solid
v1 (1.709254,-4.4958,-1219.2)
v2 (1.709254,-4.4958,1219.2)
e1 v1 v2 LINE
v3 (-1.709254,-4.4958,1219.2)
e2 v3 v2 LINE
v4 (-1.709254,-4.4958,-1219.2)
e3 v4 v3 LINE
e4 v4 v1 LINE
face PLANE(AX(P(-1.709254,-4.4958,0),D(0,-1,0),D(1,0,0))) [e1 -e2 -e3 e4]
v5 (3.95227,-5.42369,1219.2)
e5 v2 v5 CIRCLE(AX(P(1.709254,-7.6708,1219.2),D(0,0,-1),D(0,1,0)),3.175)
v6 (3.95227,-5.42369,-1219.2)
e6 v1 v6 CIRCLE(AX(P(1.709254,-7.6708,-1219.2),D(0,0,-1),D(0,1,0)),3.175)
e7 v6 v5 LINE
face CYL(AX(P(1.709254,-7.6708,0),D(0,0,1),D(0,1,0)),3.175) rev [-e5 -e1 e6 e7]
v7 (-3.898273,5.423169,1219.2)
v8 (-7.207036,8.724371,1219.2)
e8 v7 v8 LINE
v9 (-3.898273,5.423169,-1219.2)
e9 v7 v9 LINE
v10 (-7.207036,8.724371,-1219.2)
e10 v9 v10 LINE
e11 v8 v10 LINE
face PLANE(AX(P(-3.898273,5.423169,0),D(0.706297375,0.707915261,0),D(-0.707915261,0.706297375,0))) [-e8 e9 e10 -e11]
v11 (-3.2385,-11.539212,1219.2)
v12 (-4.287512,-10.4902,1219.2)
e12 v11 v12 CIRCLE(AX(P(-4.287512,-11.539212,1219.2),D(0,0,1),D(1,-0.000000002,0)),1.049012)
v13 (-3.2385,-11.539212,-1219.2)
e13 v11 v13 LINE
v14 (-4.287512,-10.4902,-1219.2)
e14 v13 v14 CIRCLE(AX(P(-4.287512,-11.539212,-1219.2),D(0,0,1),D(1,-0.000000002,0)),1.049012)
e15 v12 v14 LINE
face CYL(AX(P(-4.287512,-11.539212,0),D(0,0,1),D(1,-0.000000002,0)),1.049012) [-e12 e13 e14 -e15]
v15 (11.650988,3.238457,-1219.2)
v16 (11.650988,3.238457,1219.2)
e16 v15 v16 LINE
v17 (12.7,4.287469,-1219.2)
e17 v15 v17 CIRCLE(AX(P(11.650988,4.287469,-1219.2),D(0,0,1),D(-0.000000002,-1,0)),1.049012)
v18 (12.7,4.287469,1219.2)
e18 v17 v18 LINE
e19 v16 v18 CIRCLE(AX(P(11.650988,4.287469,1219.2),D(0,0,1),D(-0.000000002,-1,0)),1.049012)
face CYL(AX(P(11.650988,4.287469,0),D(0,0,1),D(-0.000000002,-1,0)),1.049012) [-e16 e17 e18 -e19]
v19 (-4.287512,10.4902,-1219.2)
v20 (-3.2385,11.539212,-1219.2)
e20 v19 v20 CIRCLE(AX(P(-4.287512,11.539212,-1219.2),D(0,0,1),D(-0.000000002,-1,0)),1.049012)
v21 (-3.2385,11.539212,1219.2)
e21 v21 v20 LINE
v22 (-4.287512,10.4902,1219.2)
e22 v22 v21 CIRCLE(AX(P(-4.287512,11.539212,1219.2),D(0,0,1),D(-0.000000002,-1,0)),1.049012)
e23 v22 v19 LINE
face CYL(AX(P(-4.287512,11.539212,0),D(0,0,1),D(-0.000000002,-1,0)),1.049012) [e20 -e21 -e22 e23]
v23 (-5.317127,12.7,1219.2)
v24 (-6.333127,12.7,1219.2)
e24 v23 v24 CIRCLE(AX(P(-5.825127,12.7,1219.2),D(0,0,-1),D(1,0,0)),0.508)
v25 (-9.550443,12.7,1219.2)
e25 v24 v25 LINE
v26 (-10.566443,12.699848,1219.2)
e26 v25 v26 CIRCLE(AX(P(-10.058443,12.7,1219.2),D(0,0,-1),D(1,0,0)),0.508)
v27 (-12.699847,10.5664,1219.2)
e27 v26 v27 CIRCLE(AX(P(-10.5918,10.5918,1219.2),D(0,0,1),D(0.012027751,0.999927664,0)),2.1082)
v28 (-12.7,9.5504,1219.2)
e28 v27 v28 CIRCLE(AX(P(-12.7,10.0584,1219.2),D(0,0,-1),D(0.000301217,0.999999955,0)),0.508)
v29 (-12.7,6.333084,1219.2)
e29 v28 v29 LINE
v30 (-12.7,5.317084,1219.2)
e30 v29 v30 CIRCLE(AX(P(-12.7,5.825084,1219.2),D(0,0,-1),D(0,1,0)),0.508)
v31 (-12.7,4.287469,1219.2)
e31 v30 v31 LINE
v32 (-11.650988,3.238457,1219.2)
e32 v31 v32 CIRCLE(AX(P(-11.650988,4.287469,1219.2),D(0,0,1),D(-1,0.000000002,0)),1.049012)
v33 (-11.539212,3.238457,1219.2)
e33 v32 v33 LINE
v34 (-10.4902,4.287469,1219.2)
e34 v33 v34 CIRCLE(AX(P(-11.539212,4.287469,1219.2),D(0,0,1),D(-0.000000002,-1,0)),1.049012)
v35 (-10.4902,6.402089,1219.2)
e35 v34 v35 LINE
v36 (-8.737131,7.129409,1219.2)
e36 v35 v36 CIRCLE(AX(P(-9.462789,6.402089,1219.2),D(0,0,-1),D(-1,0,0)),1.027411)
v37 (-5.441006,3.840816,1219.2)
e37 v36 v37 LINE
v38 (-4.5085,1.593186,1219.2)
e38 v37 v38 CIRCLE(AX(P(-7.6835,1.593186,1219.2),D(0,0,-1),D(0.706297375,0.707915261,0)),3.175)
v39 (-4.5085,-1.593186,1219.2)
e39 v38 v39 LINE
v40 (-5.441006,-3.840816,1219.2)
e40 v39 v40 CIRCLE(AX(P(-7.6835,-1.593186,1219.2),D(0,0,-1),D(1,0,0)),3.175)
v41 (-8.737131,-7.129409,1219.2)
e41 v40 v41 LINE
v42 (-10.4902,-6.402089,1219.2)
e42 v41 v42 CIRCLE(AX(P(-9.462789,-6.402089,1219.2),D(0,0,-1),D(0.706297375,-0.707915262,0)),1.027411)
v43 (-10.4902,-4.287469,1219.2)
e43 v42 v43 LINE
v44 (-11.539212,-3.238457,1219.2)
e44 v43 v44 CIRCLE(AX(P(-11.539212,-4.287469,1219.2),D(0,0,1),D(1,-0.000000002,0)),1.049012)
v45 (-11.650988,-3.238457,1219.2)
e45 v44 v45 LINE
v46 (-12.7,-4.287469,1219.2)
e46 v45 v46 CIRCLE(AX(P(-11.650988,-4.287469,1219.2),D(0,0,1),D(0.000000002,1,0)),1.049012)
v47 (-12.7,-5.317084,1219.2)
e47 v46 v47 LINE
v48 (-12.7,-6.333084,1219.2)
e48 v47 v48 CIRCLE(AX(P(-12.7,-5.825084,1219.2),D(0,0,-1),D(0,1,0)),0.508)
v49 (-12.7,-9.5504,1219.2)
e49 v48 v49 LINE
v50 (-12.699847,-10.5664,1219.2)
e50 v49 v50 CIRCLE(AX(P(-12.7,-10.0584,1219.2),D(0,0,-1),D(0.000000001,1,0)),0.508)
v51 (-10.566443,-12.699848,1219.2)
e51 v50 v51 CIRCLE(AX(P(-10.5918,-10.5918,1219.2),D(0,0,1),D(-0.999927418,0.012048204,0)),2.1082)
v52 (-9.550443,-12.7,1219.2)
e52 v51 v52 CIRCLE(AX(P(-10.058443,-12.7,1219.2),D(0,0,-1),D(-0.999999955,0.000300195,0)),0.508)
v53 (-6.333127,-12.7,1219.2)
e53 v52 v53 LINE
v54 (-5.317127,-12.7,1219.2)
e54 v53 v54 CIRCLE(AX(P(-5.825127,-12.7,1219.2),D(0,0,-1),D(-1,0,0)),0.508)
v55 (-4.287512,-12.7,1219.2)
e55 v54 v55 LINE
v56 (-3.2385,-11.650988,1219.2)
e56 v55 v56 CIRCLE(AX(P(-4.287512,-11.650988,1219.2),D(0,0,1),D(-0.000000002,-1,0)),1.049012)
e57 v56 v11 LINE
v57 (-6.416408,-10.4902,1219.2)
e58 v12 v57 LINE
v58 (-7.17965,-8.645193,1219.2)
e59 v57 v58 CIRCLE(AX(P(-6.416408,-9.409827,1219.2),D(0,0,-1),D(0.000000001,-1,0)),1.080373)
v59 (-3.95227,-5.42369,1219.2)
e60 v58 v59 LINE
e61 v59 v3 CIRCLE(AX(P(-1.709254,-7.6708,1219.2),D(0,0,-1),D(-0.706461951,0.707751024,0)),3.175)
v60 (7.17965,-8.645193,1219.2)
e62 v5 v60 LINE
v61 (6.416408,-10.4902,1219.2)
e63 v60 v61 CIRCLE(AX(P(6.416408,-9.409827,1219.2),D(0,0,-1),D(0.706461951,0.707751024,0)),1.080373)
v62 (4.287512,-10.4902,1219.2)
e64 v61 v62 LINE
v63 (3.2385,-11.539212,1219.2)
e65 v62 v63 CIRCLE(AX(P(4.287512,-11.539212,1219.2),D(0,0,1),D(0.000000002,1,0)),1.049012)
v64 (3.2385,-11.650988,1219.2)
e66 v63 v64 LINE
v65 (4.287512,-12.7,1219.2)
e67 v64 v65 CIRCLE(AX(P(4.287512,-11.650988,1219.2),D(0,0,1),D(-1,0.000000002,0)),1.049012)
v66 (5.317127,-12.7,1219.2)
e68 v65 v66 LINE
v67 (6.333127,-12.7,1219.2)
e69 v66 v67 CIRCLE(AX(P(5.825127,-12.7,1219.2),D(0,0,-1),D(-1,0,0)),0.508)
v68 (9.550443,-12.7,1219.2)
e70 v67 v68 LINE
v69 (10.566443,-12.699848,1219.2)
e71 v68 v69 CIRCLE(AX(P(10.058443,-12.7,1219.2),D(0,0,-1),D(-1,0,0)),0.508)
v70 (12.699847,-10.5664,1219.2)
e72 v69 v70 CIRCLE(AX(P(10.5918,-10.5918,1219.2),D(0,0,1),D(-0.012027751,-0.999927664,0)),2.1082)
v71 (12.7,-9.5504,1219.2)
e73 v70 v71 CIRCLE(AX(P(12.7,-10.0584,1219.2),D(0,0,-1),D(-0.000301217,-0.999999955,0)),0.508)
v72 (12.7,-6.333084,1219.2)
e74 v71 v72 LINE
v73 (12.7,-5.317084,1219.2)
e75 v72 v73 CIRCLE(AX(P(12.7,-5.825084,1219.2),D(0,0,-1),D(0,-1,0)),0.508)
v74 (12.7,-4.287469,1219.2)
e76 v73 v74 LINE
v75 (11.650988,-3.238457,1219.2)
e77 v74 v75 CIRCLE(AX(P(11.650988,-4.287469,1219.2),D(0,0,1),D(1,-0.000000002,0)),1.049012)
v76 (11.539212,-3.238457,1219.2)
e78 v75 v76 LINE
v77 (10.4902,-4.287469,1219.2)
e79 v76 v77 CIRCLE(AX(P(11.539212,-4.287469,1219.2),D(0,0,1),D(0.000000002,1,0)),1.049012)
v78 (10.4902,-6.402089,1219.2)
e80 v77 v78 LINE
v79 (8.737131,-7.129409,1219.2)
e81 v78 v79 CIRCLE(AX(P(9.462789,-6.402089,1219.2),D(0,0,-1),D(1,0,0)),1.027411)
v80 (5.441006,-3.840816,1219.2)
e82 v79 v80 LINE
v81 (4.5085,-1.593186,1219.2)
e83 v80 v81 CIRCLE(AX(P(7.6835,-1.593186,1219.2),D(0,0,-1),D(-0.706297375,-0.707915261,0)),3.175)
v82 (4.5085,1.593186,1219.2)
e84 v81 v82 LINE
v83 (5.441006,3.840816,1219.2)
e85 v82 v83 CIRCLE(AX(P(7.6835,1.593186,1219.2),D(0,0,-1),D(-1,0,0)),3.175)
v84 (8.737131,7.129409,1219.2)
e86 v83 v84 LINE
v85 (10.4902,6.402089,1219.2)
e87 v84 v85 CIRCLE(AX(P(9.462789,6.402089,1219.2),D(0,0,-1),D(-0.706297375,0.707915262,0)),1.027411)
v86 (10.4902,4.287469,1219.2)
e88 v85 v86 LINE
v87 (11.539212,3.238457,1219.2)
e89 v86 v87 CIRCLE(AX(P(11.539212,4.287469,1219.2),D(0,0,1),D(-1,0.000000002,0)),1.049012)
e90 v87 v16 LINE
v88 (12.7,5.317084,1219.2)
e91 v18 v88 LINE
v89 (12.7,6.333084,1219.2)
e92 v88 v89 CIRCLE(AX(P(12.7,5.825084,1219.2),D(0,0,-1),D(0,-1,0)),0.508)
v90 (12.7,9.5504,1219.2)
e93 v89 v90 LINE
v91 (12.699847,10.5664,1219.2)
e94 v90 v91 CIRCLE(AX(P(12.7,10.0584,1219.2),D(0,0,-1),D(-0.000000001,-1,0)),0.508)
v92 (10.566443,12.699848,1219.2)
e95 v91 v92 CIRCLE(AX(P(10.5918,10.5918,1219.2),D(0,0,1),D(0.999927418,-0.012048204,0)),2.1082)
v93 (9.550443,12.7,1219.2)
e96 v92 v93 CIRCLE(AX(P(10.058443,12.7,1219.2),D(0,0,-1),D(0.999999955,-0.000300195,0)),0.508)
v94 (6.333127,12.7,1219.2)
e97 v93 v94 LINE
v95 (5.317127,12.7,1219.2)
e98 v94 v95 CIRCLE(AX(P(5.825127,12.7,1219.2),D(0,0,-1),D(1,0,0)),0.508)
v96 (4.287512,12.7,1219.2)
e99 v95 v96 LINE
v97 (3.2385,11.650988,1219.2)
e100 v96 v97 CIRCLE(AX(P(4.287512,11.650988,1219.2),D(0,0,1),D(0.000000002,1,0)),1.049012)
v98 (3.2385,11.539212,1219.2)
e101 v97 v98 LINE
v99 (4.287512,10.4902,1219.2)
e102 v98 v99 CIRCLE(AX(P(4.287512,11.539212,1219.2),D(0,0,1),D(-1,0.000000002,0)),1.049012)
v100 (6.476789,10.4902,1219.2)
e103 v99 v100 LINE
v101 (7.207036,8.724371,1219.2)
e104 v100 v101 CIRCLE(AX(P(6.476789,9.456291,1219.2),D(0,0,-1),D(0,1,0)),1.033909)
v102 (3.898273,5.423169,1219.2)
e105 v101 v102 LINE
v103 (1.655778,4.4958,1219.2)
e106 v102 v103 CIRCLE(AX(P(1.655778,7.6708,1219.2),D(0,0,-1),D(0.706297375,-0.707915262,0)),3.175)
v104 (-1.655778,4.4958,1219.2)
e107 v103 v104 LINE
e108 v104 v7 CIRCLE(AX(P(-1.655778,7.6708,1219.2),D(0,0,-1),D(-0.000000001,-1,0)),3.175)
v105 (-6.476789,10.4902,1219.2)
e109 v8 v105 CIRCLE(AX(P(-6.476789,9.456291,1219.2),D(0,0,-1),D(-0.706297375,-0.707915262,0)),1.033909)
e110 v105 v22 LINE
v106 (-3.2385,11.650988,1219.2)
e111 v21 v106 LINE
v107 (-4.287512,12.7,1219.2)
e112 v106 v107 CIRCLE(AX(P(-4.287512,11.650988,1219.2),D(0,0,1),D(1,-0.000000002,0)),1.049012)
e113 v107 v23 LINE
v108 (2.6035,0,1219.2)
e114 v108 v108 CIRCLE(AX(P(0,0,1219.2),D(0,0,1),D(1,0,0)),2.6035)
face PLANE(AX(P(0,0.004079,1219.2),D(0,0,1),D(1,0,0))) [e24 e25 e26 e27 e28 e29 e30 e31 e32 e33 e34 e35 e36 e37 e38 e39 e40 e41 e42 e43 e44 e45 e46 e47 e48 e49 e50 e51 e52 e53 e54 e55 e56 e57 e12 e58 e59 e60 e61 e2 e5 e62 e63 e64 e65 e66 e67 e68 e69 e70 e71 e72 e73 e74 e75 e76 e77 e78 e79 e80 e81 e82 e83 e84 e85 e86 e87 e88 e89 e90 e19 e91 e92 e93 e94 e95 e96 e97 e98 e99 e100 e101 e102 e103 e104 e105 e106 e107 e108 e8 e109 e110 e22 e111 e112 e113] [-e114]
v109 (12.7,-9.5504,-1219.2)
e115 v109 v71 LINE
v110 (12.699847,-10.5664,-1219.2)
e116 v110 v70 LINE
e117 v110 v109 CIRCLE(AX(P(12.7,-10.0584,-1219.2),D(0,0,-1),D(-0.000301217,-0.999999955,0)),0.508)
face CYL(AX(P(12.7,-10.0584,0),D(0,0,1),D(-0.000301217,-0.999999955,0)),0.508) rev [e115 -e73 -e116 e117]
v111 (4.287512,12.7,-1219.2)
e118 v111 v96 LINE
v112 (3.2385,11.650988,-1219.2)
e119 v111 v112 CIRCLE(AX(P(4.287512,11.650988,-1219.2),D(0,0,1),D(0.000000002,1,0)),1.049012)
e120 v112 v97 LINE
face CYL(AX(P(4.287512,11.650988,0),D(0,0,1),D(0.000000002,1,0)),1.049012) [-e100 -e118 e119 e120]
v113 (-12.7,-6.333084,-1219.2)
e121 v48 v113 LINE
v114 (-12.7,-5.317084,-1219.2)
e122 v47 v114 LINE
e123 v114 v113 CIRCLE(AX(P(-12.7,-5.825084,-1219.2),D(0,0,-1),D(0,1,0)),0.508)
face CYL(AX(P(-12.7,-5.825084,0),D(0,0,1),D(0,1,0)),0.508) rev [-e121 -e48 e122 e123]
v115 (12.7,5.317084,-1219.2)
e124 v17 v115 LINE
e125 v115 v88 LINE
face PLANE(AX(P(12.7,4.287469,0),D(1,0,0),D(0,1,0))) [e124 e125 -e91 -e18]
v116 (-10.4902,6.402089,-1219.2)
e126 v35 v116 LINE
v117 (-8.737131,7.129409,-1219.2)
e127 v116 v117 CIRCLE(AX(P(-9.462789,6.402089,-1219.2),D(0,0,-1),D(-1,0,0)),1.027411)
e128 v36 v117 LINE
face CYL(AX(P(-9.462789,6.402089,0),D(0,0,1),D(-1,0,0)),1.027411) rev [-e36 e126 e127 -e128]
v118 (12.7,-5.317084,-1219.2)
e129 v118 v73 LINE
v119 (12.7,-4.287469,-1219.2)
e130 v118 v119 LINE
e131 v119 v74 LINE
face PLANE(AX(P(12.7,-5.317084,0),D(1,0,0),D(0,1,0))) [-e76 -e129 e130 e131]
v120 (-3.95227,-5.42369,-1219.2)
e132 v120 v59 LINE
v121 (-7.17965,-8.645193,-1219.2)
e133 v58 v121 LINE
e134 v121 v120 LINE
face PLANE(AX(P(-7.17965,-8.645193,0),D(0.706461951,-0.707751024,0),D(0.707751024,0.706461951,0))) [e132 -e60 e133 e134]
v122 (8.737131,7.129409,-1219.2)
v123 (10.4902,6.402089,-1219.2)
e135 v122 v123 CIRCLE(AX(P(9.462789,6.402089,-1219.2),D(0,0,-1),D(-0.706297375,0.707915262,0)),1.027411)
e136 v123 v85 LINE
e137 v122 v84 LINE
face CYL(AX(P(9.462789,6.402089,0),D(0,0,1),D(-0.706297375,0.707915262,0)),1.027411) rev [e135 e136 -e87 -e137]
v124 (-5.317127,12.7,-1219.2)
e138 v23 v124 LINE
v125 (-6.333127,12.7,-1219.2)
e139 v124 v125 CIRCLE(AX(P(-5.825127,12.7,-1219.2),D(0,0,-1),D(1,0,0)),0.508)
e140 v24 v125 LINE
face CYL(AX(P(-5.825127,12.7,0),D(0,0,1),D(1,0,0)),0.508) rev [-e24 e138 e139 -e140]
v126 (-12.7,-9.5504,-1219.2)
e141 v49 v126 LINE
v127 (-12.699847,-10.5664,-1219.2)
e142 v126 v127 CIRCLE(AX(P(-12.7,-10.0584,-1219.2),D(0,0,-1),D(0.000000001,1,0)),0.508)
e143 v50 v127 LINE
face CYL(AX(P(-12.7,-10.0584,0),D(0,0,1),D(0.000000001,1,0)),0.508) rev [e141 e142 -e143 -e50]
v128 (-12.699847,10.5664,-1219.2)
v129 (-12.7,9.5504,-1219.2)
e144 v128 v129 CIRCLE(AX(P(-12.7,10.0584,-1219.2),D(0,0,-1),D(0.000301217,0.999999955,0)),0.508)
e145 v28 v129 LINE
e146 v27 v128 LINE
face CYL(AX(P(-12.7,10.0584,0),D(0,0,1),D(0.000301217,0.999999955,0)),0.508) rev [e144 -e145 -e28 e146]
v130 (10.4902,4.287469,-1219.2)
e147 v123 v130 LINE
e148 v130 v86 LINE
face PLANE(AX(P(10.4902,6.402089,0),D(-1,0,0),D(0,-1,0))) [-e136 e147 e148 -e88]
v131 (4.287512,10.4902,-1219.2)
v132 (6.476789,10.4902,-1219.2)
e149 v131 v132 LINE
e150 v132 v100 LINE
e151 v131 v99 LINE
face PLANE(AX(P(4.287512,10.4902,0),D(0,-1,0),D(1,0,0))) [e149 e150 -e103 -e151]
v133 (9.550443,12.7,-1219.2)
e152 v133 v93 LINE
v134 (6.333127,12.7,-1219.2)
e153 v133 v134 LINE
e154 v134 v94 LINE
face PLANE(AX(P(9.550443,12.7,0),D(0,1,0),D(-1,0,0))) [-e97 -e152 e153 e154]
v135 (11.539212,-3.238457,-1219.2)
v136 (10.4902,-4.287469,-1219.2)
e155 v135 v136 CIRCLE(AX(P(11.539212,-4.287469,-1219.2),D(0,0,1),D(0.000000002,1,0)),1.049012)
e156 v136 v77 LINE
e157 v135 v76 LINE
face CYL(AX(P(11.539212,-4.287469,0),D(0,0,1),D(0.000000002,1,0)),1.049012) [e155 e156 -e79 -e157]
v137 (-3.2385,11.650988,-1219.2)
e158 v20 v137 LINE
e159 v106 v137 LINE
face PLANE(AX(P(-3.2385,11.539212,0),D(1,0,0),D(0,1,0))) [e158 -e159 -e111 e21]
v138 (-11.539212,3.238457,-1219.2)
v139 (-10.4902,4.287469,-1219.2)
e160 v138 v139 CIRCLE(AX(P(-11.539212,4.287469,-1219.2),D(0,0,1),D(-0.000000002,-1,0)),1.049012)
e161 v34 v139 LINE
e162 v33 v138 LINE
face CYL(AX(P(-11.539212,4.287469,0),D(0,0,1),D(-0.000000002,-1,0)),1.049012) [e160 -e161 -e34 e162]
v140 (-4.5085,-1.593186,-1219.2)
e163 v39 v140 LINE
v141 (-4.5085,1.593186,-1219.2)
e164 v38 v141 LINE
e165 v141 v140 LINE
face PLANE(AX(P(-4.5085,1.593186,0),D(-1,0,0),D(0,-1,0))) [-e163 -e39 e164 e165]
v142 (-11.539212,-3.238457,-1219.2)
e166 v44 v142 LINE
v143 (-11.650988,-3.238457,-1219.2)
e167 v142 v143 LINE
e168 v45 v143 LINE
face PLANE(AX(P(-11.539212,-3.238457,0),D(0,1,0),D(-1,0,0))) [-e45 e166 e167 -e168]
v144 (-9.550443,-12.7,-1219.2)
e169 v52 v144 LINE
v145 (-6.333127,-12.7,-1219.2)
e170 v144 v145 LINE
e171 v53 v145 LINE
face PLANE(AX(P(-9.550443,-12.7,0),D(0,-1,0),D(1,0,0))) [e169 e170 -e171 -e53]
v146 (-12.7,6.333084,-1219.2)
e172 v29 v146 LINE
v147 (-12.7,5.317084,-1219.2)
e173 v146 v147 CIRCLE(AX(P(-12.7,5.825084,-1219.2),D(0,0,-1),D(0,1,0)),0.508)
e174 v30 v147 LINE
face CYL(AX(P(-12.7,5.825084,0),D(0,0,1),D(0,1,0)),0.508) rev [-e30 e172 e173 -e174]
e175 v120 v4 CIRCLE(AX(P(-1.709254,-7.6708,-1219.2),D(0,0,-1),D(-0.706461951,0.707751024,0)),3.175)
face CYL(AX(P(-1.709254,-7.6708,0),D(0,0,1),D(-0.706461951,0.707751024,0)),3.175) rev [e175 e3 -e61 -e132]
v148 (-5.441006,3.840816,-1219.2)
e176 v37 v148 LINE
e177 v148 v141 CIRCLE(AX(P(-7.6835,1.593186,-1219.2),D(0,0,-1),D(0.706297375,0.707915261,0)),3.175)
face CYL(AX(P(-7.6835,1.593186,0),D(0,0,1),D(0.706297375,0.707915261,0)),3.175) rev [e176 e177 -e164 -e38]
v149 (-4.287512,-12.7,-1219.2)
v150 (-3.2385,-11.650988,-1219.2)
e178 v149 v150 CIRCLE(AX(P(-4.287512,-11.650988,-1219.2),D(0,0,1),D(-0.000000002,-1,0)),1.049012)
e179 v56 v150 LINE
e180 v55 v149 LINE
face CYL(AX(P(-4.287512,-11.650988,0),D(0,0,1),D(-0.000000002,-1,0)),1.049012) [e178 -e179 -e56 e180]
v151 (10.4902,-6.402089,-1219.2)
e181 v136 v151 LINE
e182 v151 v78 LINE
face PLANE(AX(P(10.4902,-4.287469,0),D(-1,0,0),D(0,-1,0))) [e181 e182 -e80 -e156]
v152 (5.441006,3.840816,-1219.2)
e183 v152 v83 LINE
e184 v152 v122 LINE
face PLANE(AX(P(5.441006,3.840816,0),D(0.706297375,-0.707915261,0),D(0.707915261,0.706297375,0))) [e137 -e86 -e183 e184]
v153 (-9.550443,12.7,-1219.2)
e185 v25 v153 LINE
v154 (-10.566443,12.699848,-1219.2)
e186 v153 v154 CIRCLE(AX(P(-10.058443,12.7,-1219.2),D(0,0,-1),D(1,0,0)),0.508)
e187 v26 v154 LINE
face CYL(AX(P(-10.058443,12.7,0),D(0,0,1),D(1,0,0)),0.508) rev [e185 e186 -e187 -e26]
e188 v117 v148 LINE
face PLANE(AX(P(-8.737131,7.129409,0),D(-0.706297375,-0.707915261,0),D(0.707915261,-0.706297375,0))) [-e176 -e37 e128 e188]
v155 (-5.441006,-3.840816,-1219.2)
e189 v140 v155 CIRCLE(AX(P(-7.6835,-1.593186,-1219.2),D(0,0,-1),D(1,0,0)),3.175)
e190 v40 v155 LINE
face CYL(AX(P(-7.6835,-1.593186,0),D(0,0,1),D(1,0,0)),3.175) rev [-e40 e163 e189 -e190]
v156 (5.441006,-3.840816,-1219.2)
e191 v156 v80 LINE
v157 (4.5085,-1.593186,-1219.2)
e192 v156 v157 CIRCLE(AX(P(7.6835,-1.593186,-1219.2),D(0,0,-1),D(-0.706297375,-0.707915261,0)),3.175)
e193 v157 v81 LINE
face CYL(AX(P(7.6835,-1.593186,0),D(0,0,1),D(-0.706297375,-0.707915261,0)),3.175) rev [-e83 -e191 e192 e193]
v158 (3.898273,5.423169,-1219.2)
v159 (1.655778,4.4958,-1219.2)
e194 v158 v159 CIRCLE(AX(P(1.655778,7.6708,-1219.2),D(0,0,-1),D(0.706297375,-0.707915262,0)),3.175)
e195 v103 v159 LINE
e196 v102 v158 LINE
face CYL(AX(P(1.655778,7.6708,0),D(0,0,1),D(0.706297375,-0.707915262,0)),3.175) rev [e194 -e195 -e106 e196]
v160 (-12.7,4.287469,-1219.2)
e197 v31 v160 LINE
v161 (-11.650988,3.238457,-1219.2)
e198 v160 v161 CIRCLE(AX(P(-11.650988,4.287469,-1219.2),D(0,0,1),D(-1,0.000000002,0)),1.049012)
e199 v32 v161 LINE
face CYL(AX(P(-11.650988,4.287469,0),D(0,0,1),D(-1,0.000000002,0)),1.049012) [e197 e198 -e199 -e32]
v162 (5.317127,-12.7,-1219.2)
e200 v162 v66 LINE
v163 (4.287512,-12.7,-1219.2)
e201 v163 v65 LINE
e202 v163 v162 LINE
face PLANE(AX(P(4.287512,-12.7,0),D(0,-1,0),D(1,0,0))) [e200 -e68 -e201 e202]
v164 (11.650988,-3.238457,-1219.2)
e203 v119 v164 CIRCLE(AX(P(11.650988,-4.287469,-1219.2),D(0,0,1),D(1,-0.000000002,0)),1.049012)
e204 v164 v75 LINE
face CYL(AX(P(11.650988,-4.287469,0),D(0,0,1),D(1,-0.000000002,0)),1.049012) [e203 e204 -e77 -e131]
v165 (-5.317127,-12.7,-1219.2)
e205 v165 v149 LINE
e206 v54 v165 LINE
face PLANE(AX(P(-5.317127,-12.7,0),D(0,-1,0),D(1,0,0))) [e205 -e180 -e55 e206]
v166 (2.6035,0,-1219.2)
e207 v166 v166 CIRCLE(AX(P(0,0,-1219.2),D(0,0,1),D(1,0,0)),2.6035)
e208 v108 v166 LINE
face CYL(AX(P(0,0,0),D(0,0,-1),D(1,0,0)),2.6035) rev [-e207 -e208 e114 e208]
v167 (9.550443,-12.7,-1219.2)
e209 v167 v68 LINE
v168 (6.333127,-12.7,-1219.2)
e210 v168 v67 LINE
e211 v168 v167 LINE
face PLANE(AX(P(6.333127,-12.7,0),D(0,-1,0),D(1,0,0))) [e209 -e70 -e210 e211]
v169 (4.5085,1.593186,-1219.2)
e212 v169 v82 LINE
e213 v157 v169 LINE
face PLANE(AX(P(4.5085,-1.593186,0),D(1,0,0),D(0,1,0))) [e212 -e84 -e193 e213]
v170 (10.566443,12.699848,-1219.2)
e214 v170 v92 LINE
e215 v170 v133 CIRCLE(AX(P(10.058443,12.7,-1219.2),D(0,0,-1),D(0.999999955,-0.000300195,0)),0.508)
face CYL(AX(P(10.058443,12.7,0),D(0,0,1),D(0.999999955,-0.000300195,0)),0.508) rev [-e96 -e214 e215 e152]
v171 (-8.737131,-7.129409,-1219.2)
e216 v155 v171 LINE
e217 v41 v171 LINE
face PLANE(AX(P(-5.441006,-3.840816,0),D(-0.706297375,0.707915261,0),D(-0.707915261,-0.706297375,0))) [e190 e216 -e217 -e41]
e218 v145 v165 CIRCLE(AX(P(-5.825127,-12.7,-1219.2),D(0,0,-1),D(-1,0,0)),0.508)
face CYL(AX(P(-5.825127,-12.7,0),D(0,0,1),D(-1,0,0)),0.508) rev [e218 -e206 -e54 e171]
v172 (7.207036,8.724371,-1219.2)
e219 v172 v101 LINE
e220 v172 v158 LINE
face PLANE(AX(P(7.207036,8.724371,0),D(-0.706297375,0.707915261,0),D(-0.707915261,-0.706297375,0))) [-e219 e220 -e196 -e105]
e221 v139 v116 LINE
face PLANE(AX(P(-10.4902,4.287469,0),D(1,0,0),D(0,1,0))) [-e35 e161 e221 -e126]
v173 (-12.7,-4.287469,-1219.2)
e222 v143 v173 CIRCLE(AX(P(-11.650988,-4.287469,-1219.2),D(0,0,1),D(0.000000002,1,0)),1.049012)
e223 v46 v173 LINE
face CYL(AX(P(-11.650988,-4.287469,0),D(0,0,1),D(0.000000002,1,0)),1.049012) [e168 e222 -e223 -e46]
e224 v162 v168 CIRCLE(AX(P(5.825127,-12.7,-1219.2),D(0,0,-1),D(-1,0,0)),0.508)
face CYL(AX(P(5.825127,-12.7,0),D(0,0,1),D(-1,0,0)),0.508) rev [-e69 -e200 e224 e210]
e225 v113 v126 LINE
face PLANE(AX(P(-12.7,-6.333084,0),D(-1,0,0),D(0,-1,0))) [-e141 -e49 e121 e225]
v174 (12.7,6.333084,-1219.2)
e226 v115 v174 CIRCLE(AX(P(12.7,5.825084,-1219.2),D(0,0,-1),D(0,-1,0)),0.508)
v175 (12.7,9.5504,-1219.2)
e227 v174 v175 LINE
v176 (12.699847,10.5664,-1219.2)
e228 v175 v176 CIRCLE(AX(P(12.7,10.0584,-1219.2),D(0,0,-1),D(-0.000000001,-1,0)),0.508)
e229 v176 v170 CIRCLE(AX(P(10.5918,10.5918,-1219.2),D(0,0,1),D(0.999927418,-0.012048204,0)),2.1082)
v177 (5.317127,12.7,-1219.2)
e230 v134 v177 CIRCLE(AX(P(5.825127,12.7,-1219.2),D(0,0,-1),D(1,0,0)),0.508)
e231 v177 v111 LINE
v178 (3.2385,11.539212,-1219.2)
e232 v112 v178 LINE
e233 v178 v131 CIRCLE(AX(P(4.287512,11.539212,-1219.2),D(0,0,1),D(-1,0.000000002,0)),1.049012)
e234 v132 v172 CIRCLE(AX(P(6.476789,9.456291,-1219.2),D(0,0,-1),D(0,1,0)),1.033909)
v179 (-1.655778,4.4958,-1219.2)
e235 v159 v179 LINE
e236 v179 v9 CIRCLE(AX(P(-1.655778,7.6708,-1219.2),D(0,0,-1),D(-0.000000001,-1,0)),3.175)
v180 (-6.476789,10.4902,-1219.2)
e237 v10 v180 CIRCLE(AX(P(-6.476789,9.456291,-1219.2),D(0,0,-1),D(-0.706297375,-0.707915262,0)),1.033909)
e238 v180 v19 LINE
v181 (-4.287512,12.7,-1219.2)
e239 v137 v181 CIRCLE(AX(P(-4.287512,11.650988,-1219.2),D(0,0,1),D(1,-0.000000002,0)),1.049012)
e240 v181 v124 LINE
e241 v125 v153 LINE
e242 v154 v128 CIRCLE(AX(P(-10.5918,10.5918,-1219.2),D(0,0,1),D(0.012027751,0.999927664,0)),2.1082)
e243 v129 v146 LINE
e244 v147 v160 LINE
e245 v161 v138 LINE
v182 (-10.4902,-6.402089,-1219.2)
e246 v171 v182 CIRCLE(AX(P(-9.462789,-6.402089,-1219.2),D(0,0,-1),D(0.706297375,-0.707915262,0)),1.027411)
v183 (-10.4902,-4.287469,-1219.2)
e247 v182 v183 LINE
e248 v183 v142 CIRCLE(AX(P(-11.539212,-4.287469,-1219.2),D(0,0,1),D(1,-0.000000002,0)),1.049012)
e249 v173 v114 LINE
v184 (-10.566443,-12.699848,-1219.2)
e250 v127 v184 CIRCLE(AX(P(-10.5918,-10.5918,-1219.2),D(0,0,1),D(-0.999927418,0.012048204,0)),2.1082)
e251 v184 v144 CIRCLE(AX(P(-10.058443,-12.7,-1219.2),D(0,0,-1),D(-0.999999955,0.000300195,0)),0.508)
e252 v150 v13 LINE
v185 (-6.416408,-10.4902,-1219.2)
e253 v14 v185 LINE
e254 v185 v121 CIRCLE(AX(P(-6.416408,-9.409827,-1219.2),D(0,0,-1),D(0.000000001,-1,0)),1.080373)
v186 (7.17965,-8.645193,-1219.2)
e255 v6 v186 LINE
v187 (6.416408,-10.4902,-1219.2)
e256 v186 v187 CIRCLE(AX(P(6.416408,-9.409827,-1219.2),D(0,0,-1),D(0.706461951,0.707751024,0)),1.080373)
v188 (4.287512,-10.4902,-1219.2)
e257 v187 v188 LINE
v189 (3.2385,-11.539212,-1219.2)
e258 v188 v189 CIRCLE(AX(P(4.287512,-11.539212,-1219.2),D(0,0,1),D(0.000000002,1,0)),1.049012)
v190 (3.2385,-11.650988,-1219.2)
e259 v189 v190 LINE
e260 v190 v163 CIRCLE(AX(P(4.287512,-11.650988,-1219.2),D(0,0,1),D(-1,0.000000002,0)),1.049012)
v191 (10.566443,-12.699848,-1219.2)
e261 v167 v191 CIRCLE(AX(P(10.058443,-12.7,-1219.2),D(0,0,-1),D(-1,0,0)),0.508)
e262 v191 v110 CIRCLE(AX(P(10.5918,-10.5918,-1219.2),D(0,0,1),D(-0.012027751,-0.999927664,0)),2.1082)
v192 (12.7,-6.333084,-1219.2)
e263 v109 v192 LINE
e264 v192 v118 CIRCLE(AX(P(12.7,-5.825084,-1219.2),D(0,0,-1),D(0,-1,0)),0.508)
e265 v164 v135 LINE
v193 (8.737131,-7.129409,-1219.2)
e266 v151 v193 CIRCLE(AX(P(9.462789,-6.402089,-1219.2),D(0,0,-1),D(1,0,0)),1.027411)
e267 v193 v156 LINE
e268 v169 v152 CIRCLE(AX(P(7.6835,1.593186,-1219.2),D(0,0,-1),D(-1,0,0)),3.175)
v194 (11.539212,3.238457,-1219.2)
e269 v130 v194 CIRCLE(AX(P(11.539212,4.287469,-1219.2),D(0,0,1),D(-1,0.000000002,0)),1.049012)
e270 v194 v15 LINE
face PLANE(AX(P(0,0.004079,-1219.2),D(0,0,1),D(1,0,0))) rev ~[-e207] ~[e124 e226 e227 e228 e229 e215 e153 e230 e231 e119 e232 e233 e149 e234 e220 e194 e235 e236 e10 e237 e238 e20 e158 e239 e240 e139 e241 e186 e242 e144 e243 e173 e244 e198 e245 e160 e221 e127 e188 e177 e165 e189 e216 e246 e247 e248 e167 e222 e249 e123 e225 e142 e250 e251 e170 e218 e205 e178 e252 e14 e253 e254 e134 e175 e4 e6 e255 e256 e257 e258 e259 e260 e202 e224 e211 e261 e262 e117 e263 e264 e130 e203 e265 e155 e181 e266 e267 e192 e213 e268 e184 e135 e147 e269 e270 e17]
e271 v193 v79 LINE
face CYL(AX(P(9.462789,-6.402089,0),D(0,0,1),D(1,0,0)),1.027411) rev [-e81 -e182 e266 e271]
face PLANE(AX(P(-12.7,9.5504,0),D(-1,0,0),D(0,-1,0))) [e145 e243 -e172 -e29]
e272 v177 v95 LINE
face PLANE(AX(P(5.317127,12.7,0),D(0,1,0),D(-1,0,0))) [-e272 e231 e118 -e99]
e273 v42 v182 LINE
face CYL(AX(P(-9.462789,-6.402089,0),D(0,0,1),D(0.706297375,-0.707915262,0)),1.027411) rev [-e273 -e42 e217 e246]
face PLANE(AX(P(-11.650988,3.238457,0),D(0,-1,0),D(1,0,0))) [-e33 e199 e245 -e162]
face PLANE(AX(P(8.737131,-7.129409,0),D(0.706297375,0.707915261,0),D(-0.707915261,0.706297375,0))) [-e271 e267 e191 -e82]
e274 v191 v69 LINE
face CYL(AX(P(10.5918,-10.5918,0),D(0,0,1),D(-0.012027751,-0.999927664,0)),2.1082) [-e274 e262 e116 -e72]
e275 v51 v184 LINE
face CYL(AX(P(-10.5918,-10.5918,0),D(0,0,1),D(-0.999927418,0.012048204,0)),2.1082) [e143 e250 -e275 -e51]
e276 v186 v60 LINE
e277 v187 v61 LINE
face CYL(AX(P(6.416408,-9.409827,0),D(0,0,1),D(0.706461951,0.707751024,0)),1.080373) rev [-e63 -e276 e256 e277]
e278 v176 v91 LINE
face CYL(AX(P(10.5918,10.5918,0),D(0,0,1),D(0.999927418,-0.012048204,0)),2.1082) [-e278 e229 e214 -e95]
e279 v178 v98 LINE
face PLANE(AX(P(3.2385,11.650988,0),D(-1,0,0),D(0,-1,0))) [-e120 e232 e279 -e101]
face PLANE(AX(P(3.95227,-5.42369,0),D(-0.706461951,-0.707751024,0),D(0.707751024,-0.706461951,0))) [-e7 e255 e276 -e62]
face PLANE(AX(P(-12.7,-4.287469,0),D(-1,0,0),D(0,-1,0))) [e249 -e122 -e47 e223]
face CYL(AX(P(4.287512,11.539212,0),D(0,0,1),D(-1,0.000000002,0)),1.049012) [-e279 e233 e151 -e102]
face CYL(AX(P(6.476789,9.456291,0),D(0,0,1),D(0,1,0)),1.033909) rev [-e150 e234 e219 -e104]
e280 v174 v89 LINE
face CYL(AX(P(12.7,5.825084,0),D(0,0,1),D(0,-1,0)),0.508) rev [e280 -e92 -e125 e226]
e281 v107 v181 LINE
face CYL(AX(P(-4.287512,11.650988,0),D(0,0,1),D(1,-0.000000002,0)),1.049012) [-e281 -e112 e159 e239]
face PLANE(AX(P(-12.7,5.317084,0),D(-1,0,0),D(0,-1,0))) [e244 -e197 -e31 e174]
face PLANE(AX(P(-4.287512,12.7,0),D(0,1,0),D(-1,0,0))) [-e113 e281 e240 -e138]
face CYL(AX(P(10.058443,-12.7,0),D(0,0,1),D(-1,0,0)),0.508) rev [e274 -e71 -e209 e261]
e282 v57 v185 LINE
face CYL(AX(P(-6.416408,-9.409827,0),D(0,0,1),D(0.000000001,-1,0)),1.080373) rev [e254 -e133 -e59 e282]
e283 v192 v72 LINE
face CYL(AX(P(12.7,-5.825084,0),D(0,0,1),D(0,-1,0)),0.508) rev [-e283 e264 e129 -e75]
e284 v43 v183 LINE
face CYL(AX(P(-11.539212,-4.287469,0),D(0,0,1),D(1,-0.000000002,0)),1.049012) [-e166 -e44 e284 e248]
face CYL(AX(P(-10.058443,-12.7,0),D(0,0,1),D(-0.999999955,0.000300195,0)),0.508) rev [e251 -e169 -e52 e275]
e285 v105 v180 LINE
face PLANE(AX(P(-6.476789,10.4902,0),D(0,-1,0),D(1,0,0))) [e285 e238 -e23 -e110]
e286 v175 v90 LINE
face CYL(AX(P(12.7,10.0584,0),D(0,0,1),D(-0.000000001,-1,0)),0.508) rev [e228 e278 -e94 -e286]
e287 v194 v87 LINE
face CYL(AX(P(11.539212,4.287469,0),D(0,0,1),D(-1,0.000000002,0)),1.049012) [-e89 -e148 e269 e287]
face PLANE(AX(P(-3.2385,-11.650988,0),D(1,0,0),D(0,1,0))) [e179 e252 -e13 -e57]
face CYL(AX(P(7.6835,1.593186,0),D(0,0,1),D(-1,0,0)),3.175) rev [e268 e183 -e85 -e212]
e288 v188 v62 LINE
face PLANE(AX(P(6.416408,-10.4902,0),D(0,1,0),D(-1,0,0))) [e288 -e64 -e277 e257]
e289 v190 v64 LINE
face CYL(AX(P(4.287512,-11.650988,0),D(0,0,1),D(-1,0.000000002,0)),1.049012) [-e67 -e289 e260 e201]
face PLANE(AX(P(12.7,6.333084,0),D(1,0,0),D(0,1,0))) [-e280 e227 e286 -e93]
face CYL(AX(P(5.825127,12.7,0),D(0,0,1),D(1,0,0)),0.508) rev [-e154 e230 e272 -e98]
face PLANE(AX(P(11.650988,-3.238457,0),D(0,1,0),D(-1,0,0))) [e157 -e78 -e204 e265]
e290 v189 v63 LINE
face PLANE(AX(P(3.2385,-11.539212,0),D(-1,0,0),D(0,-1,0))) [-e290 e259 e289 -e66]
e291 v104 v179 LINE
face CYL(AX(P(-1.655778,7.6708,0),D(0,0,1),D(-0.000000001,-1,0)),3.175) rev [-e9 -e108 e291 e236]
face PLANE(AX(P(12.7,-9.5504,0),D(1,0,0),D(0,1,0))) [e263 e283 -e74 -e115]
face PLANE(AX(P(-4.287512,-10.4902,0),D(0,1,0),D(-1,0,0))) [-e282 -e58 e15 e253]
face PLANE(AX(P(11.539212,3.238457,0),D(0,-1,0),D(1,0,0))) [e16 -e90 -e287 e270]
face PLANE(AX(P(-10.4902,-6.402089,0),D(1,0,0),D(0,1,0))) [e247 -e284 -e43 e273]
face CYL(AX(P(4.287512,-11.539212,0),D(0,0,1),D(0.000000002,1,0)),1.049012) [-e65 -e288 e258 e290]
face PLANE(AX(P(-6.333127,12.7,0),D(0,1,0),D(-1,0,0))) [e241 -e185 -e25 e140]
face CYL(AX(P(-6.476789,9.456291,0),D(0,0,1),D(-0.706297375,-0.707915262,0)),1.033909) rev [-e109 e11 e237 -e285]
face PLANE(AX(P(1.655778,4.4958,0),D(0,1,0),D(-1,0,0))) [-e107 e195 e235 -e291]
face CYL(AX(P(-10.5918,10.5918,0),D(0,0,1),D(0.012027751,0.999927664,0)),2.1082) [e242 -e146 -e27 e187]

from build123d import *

# Parameters (mm, degrees)
SKETCH1_R           = 2.6035
BOSS_EXTRUDE1_DEPTH = 1219.2


with BuildPart() as part:
    # Sketch1 → Boss-Extrude1 (new body, symmetric)
    with BuildSketch(Plane.XY):
        with BuildLine():
            Line((-7.179650497, -8.645192506), (-3.952270251, -5.423690499))
            ThreePointArc((-3.952270251, -5.423690499), (-2.922936451, -4.736929036), (-1.709253557, -4.4958))
            Line((-1.709253557, -4.4958), (1.709253557, -4.4958))
            ThreePointArc((1.709253557, -4.4958), (2.922936451, -4.736929036), (3.952270251, -5.423690499))
            Line((3.952270251, -5.423690499), (7.179650497, -8.645192506))
            ThreePointArc((7.179650497, -8.645192506), (7.41473083, -9.822813117), (6.416408329, -10.4902))
            Line((6.416408329, -10.4902), (4.287512407, -10.4902))
            ThreePointArc((4.287512407, -10.4902), (3.54574862, -10.79744862), (3.2385, -11.539212407))
            Line((3.2385, -11.539212407), (3.2385, -11.650987593))
            ThreePointArc((3.2385, -11.650987593), (3.54574862, -12.39275138), (4.287512407, -12.7))
            Line((4.287512407, -12.7), (5.317126718, -12.7))
            ThreePointArc((5.317126718, -12.7), (5.825126718, -12.192), (6.333126718, -12.7))
            Line((6.333126718, -12.7), (9.550443118, -12.7))
            ThreePointArc((9.550443118, -12.7), (10.058366869, -12.192000006), (10.566443095, -12.699847501))
            ThreePointArc((10.566443095, -12.699847501), (12.082537762, -12.08250727), (12.699846982, -10.566399977))
            ThreePointArc((12.699846982, -10.566399977), (12.192000006, -10.058323491), (12.7, -9.5504))
            Line((12.7, -9.5504), (12.7, -6.3330836))
            ThreePointArc((12.7, -6.3330836), (12.192, -5.8250836), (12.7, -5.3170836))
            Line((12.7, -5.3170836), (12.7, -4.287469289))
            ThreePointArc((12.7, -4.287469289), (12.39275138, -3.545705502), (11.650987593, -3.238456882))
            Line((11.650987593, -3.238456882), (11.539212407, -3.238456882))
            ThreePointArc((11.539212407, -3.238456882), (10.79744862, -3.545705502), (10.4902, -4.287469289))
            Line((10.4902, -4.287469289), (10.4902, -6.402089023))
            ThreePointArc((10.4902, -6.402089023), (9.856505071, -7.351067942), (8.737131347, -7.129408934))
            Line((8.737131347, -7.129408934), (5.441005833, -3.840816462))
            ThreePointArc((5.441005833, -3.840816462), (4.750877967, -2.809883091), (4.5085, -1.593185507))
            Line((4.5085, -1.593185507), (4.5085, 1.593185507))
            ThreePointArc((4.5085, 1.593185507), (4.750877967, 2.809883091), (5.441005833, 3.840816462))
            Line((5.441005833, 3.840816462), (8.737131347, 7.129408934))
            ThreePointArc((8.737131347, 7.129408934), (9.856505071, 7.351067942), (10.4902, 6.402089023))
            Line((10.4902, 6.402089023), (10.4902, 4.287469289))
            ThreePointArc((10.4902, 4.287469289), (10.79744862, 3.545705502), (11.539212407, 3.238456882))
            Line((11.539212407, 3.238456882), (11.650987593, 3.238456882))
            ThreePointArc((11.650987593, 3.238456882), (12.39275138, 3.545705502), (12.7, 4.287469289))
            Line((12.7, 4.287469289), (12.7, 5.3170836))
            ThreePointArc((12.7, 5.3170836), (12.192, 5.8250836), (12.7, 6.3330836))
            Line((12.7, 6.3330836), (12.7, 9.5504))
            ThreePointArc((12.7, 9.5504), (12.192000006, 10.058323491), (12.699846982, 10.566399977))
            ThreePointArc((12.699846982, 10.566399977), (12.082537762, 12.08250727), (10.566443095, 12.699847501))
            ThreePointArc((10.566443095, 12.699847501), (10.058366869, 12.192000006), (9.550443118, 12.7))
            Line((9.550443118, 12.7), (6.333126718, 12.7))
            ThreePointArc((6.333126718, 12.7), (5.825126718, 12.192), (5.317126718, 12.7))
            Line((5.317126718, 12.7), (4.287512407, 12.7))
            ThreePointArc((4.287512407, 12.7), (3.54574862, 12.39275138), (3.2385, 11.650987593))
            Line((3.2385, 11.650987593), (3.2385, 11.539212407))
            ThreePointArc((3.2385, 11.539212407), (3.54574862, 10.79744862), (4.287512407, 10.4902))
            Line((4.287512407, 10.4902), (6.476788598, 10.4902))
            ThreePointArc((6.476788598, 10.4902), (7.432222385, 9.85140422), (7.207036008, 8.724370562))
            Line((7.207036008, 8.724370562), (3.898272566, 5.423169045))
            ThreePointArc((3.898272566, 5.423169045), (2.869120213, 4.736787962), (1.655778399, 4.4958))
            Line((1.655778399, 4.4958), (-1.655778399, 4.4958))
            ThreePointArc((-1.655778399, 4.4958), (-2.869120213, 4.736787962), (-3.898272566, 5.423169045))
            Line((-3.898272566, 5.423169045), (-7.207036008, 8.724370562))
            ThreePointArc((-7.207036008, 8.724370562), (-7.432222385, 9.85140422), (-6.476788598, 10.4902))
            Line((-6.476788598, 10.4902), (-4.287512407, 10.4902))
            ThreePointArc((-4.287512407, 10.4902), (-3.54574862, 10.79744862), (-3.2385, 11.539212407))
            Line((-3.2385, 11.539212407), (-3.2385, 11.650987593))
            ThreePointArc((-3.2385, 11.650987593), (-3.54574862, 12.39275138), (-4.287512407, 12.7))
            Line((-4.287512407, 12.7), (-5.317126718, 12.7))
            ThreePointArc((-5.317126718, 12.7), (-5.825126718, 12.192), (-6.333126718, 12.7))
            Line((-6.333126718, 12.7), (-9.550443118, 12.7))
            ThreePointArc((-9.550443118, 12.7), (-10.058366869, 12.192000006), (-10.566443095, 12.699847501))
            ThreePointArc((-10.566443095, 12.699847501), (-12.082537762, 12.08250727), (-12.699846982, 10.566399977))
            ThreePointArc((-12.699846982, 10.566399977), (-12.192000006, 10.058323491), (-12.7, 9.5504))
            Line((-12.7, 9.5504), (-12.7, 6.3330836))
            ThreePointArc((-12.7, 6.3330836), (-12.192, 5.8250836), (-12.7, 5.3170836))
            Line((-12.7, 5.3170836), (-12.7, 4.287469289))
            ThreePointArc((-12.7, 4.287469289), (-12.39275138, 3.545705502), (-11.650987593, 3.238456882))
            Line((-11.650987593, 3.238456882), (-11.539212407, 3.238456882))
            ThreePointArc((-11.539212407, 3.238456882), (-10.79744862, 3.545705502), (-10.4902, 4.287469289))
            Line((-10.4902, 4.287469289), (-10.4902, 6.402089023))
            ThreePointArc((-10.4902, 6.402089023), (-9.856505071, 7.351067942), (-8.737131347, 7.129408934))
            Line((-8.737131347, 7.129408934), (-5.441005833, 3.840816462))
            ThreePointArc((-5.441005833, 3.840816462), (-4.750877967, 2.809883091), (-4.5085, 1.593185507))
            Line((-4.5085, 1.593185507), (-4.5085, -1.593185507))
            ThreePointArc((-4.5085, -1.593185507), (-4.750877967, -2.809883091), (-5.441005833, -3.840816462))
            Line((-5.441005833, -3.840816462), (-8.737131347, -7.129408934))
            ThreePointArc((-8.737131347, -7.129408934), (-9.856505071, -7.351067942), (-10.4902, -6.402089023))
            Line((-10.4902, -6.402089023), (-10.4902, -4.287469289))
            ThreePointArc((-10.4902, -4.287469289), (-10.79744862, -3.545705502), (-11.539212407, -3.238456882))
            Line((-11.539212407, -3.238456882), (-11.650987593, -3.238456882))
            ThreePointArc((-11.650987593, -3.238456882), (-12.39275138, -3.545705502), (-12.7, -4.287469289))
            Line((-12.7, -4.287469289), (-12.7, -5.3170836))
            ThreePointArc((-12.7, -5.3170836), (-12.192, -5.8250836), (-12.7, -6.3330836))
            Line((-12.7, -6.3330836), (-12.7, -9.5504))
            ThreePointArc((-12.7, -9.5504), (-12.192000006, -10.058323491), (-12.699846982, -10.566399977))
            ThreePointArc((-12.699846982, -10.566399977), (-12.082537762, -12.08250727), (-10.566443095, -12.699847501))
            ThreePointArc((-10.566443095, -12.699847501), (-10.058366869, -12.192000006), (-9.550443118, -12.7))
            Line((-9.550443118, -12.7), (-6.333126718, -12.7))
            ThreePointArc((-6.333126718, -12.7), (-5.825126718, -12.192), (-5.317126718, -12.7))
            Line((-5.317126718, -12.7), (-4.287512407, -12.7))
            ThreePointArc((-4.287512407, -12.7), (-3.54574862, -12.39275138), (-3.2385, -11.650987593))
            Line((-3.2385, -11.650987593), (-3.2385, -11.539212407))
            ThreePointArc((-3.2385, -11.539212407), (-3.54574862, -10.79744862), (-4.287512407, -10.4902))
            Line((-4.287512407, -10.4902), (-6.416408329, -10.4902))
            ThreePointArc((-6.416408329, -10.4902), (-7.41473083, -9.822813117), (-7.179650497, -8.645192506))
        make_face()
        Circle(SKETCH1_R, mode=Mode.SUBTRACT)
    extrude(amount=BOSS_EXTRUDE1_DEPTH, both=True)


solid = part.part
